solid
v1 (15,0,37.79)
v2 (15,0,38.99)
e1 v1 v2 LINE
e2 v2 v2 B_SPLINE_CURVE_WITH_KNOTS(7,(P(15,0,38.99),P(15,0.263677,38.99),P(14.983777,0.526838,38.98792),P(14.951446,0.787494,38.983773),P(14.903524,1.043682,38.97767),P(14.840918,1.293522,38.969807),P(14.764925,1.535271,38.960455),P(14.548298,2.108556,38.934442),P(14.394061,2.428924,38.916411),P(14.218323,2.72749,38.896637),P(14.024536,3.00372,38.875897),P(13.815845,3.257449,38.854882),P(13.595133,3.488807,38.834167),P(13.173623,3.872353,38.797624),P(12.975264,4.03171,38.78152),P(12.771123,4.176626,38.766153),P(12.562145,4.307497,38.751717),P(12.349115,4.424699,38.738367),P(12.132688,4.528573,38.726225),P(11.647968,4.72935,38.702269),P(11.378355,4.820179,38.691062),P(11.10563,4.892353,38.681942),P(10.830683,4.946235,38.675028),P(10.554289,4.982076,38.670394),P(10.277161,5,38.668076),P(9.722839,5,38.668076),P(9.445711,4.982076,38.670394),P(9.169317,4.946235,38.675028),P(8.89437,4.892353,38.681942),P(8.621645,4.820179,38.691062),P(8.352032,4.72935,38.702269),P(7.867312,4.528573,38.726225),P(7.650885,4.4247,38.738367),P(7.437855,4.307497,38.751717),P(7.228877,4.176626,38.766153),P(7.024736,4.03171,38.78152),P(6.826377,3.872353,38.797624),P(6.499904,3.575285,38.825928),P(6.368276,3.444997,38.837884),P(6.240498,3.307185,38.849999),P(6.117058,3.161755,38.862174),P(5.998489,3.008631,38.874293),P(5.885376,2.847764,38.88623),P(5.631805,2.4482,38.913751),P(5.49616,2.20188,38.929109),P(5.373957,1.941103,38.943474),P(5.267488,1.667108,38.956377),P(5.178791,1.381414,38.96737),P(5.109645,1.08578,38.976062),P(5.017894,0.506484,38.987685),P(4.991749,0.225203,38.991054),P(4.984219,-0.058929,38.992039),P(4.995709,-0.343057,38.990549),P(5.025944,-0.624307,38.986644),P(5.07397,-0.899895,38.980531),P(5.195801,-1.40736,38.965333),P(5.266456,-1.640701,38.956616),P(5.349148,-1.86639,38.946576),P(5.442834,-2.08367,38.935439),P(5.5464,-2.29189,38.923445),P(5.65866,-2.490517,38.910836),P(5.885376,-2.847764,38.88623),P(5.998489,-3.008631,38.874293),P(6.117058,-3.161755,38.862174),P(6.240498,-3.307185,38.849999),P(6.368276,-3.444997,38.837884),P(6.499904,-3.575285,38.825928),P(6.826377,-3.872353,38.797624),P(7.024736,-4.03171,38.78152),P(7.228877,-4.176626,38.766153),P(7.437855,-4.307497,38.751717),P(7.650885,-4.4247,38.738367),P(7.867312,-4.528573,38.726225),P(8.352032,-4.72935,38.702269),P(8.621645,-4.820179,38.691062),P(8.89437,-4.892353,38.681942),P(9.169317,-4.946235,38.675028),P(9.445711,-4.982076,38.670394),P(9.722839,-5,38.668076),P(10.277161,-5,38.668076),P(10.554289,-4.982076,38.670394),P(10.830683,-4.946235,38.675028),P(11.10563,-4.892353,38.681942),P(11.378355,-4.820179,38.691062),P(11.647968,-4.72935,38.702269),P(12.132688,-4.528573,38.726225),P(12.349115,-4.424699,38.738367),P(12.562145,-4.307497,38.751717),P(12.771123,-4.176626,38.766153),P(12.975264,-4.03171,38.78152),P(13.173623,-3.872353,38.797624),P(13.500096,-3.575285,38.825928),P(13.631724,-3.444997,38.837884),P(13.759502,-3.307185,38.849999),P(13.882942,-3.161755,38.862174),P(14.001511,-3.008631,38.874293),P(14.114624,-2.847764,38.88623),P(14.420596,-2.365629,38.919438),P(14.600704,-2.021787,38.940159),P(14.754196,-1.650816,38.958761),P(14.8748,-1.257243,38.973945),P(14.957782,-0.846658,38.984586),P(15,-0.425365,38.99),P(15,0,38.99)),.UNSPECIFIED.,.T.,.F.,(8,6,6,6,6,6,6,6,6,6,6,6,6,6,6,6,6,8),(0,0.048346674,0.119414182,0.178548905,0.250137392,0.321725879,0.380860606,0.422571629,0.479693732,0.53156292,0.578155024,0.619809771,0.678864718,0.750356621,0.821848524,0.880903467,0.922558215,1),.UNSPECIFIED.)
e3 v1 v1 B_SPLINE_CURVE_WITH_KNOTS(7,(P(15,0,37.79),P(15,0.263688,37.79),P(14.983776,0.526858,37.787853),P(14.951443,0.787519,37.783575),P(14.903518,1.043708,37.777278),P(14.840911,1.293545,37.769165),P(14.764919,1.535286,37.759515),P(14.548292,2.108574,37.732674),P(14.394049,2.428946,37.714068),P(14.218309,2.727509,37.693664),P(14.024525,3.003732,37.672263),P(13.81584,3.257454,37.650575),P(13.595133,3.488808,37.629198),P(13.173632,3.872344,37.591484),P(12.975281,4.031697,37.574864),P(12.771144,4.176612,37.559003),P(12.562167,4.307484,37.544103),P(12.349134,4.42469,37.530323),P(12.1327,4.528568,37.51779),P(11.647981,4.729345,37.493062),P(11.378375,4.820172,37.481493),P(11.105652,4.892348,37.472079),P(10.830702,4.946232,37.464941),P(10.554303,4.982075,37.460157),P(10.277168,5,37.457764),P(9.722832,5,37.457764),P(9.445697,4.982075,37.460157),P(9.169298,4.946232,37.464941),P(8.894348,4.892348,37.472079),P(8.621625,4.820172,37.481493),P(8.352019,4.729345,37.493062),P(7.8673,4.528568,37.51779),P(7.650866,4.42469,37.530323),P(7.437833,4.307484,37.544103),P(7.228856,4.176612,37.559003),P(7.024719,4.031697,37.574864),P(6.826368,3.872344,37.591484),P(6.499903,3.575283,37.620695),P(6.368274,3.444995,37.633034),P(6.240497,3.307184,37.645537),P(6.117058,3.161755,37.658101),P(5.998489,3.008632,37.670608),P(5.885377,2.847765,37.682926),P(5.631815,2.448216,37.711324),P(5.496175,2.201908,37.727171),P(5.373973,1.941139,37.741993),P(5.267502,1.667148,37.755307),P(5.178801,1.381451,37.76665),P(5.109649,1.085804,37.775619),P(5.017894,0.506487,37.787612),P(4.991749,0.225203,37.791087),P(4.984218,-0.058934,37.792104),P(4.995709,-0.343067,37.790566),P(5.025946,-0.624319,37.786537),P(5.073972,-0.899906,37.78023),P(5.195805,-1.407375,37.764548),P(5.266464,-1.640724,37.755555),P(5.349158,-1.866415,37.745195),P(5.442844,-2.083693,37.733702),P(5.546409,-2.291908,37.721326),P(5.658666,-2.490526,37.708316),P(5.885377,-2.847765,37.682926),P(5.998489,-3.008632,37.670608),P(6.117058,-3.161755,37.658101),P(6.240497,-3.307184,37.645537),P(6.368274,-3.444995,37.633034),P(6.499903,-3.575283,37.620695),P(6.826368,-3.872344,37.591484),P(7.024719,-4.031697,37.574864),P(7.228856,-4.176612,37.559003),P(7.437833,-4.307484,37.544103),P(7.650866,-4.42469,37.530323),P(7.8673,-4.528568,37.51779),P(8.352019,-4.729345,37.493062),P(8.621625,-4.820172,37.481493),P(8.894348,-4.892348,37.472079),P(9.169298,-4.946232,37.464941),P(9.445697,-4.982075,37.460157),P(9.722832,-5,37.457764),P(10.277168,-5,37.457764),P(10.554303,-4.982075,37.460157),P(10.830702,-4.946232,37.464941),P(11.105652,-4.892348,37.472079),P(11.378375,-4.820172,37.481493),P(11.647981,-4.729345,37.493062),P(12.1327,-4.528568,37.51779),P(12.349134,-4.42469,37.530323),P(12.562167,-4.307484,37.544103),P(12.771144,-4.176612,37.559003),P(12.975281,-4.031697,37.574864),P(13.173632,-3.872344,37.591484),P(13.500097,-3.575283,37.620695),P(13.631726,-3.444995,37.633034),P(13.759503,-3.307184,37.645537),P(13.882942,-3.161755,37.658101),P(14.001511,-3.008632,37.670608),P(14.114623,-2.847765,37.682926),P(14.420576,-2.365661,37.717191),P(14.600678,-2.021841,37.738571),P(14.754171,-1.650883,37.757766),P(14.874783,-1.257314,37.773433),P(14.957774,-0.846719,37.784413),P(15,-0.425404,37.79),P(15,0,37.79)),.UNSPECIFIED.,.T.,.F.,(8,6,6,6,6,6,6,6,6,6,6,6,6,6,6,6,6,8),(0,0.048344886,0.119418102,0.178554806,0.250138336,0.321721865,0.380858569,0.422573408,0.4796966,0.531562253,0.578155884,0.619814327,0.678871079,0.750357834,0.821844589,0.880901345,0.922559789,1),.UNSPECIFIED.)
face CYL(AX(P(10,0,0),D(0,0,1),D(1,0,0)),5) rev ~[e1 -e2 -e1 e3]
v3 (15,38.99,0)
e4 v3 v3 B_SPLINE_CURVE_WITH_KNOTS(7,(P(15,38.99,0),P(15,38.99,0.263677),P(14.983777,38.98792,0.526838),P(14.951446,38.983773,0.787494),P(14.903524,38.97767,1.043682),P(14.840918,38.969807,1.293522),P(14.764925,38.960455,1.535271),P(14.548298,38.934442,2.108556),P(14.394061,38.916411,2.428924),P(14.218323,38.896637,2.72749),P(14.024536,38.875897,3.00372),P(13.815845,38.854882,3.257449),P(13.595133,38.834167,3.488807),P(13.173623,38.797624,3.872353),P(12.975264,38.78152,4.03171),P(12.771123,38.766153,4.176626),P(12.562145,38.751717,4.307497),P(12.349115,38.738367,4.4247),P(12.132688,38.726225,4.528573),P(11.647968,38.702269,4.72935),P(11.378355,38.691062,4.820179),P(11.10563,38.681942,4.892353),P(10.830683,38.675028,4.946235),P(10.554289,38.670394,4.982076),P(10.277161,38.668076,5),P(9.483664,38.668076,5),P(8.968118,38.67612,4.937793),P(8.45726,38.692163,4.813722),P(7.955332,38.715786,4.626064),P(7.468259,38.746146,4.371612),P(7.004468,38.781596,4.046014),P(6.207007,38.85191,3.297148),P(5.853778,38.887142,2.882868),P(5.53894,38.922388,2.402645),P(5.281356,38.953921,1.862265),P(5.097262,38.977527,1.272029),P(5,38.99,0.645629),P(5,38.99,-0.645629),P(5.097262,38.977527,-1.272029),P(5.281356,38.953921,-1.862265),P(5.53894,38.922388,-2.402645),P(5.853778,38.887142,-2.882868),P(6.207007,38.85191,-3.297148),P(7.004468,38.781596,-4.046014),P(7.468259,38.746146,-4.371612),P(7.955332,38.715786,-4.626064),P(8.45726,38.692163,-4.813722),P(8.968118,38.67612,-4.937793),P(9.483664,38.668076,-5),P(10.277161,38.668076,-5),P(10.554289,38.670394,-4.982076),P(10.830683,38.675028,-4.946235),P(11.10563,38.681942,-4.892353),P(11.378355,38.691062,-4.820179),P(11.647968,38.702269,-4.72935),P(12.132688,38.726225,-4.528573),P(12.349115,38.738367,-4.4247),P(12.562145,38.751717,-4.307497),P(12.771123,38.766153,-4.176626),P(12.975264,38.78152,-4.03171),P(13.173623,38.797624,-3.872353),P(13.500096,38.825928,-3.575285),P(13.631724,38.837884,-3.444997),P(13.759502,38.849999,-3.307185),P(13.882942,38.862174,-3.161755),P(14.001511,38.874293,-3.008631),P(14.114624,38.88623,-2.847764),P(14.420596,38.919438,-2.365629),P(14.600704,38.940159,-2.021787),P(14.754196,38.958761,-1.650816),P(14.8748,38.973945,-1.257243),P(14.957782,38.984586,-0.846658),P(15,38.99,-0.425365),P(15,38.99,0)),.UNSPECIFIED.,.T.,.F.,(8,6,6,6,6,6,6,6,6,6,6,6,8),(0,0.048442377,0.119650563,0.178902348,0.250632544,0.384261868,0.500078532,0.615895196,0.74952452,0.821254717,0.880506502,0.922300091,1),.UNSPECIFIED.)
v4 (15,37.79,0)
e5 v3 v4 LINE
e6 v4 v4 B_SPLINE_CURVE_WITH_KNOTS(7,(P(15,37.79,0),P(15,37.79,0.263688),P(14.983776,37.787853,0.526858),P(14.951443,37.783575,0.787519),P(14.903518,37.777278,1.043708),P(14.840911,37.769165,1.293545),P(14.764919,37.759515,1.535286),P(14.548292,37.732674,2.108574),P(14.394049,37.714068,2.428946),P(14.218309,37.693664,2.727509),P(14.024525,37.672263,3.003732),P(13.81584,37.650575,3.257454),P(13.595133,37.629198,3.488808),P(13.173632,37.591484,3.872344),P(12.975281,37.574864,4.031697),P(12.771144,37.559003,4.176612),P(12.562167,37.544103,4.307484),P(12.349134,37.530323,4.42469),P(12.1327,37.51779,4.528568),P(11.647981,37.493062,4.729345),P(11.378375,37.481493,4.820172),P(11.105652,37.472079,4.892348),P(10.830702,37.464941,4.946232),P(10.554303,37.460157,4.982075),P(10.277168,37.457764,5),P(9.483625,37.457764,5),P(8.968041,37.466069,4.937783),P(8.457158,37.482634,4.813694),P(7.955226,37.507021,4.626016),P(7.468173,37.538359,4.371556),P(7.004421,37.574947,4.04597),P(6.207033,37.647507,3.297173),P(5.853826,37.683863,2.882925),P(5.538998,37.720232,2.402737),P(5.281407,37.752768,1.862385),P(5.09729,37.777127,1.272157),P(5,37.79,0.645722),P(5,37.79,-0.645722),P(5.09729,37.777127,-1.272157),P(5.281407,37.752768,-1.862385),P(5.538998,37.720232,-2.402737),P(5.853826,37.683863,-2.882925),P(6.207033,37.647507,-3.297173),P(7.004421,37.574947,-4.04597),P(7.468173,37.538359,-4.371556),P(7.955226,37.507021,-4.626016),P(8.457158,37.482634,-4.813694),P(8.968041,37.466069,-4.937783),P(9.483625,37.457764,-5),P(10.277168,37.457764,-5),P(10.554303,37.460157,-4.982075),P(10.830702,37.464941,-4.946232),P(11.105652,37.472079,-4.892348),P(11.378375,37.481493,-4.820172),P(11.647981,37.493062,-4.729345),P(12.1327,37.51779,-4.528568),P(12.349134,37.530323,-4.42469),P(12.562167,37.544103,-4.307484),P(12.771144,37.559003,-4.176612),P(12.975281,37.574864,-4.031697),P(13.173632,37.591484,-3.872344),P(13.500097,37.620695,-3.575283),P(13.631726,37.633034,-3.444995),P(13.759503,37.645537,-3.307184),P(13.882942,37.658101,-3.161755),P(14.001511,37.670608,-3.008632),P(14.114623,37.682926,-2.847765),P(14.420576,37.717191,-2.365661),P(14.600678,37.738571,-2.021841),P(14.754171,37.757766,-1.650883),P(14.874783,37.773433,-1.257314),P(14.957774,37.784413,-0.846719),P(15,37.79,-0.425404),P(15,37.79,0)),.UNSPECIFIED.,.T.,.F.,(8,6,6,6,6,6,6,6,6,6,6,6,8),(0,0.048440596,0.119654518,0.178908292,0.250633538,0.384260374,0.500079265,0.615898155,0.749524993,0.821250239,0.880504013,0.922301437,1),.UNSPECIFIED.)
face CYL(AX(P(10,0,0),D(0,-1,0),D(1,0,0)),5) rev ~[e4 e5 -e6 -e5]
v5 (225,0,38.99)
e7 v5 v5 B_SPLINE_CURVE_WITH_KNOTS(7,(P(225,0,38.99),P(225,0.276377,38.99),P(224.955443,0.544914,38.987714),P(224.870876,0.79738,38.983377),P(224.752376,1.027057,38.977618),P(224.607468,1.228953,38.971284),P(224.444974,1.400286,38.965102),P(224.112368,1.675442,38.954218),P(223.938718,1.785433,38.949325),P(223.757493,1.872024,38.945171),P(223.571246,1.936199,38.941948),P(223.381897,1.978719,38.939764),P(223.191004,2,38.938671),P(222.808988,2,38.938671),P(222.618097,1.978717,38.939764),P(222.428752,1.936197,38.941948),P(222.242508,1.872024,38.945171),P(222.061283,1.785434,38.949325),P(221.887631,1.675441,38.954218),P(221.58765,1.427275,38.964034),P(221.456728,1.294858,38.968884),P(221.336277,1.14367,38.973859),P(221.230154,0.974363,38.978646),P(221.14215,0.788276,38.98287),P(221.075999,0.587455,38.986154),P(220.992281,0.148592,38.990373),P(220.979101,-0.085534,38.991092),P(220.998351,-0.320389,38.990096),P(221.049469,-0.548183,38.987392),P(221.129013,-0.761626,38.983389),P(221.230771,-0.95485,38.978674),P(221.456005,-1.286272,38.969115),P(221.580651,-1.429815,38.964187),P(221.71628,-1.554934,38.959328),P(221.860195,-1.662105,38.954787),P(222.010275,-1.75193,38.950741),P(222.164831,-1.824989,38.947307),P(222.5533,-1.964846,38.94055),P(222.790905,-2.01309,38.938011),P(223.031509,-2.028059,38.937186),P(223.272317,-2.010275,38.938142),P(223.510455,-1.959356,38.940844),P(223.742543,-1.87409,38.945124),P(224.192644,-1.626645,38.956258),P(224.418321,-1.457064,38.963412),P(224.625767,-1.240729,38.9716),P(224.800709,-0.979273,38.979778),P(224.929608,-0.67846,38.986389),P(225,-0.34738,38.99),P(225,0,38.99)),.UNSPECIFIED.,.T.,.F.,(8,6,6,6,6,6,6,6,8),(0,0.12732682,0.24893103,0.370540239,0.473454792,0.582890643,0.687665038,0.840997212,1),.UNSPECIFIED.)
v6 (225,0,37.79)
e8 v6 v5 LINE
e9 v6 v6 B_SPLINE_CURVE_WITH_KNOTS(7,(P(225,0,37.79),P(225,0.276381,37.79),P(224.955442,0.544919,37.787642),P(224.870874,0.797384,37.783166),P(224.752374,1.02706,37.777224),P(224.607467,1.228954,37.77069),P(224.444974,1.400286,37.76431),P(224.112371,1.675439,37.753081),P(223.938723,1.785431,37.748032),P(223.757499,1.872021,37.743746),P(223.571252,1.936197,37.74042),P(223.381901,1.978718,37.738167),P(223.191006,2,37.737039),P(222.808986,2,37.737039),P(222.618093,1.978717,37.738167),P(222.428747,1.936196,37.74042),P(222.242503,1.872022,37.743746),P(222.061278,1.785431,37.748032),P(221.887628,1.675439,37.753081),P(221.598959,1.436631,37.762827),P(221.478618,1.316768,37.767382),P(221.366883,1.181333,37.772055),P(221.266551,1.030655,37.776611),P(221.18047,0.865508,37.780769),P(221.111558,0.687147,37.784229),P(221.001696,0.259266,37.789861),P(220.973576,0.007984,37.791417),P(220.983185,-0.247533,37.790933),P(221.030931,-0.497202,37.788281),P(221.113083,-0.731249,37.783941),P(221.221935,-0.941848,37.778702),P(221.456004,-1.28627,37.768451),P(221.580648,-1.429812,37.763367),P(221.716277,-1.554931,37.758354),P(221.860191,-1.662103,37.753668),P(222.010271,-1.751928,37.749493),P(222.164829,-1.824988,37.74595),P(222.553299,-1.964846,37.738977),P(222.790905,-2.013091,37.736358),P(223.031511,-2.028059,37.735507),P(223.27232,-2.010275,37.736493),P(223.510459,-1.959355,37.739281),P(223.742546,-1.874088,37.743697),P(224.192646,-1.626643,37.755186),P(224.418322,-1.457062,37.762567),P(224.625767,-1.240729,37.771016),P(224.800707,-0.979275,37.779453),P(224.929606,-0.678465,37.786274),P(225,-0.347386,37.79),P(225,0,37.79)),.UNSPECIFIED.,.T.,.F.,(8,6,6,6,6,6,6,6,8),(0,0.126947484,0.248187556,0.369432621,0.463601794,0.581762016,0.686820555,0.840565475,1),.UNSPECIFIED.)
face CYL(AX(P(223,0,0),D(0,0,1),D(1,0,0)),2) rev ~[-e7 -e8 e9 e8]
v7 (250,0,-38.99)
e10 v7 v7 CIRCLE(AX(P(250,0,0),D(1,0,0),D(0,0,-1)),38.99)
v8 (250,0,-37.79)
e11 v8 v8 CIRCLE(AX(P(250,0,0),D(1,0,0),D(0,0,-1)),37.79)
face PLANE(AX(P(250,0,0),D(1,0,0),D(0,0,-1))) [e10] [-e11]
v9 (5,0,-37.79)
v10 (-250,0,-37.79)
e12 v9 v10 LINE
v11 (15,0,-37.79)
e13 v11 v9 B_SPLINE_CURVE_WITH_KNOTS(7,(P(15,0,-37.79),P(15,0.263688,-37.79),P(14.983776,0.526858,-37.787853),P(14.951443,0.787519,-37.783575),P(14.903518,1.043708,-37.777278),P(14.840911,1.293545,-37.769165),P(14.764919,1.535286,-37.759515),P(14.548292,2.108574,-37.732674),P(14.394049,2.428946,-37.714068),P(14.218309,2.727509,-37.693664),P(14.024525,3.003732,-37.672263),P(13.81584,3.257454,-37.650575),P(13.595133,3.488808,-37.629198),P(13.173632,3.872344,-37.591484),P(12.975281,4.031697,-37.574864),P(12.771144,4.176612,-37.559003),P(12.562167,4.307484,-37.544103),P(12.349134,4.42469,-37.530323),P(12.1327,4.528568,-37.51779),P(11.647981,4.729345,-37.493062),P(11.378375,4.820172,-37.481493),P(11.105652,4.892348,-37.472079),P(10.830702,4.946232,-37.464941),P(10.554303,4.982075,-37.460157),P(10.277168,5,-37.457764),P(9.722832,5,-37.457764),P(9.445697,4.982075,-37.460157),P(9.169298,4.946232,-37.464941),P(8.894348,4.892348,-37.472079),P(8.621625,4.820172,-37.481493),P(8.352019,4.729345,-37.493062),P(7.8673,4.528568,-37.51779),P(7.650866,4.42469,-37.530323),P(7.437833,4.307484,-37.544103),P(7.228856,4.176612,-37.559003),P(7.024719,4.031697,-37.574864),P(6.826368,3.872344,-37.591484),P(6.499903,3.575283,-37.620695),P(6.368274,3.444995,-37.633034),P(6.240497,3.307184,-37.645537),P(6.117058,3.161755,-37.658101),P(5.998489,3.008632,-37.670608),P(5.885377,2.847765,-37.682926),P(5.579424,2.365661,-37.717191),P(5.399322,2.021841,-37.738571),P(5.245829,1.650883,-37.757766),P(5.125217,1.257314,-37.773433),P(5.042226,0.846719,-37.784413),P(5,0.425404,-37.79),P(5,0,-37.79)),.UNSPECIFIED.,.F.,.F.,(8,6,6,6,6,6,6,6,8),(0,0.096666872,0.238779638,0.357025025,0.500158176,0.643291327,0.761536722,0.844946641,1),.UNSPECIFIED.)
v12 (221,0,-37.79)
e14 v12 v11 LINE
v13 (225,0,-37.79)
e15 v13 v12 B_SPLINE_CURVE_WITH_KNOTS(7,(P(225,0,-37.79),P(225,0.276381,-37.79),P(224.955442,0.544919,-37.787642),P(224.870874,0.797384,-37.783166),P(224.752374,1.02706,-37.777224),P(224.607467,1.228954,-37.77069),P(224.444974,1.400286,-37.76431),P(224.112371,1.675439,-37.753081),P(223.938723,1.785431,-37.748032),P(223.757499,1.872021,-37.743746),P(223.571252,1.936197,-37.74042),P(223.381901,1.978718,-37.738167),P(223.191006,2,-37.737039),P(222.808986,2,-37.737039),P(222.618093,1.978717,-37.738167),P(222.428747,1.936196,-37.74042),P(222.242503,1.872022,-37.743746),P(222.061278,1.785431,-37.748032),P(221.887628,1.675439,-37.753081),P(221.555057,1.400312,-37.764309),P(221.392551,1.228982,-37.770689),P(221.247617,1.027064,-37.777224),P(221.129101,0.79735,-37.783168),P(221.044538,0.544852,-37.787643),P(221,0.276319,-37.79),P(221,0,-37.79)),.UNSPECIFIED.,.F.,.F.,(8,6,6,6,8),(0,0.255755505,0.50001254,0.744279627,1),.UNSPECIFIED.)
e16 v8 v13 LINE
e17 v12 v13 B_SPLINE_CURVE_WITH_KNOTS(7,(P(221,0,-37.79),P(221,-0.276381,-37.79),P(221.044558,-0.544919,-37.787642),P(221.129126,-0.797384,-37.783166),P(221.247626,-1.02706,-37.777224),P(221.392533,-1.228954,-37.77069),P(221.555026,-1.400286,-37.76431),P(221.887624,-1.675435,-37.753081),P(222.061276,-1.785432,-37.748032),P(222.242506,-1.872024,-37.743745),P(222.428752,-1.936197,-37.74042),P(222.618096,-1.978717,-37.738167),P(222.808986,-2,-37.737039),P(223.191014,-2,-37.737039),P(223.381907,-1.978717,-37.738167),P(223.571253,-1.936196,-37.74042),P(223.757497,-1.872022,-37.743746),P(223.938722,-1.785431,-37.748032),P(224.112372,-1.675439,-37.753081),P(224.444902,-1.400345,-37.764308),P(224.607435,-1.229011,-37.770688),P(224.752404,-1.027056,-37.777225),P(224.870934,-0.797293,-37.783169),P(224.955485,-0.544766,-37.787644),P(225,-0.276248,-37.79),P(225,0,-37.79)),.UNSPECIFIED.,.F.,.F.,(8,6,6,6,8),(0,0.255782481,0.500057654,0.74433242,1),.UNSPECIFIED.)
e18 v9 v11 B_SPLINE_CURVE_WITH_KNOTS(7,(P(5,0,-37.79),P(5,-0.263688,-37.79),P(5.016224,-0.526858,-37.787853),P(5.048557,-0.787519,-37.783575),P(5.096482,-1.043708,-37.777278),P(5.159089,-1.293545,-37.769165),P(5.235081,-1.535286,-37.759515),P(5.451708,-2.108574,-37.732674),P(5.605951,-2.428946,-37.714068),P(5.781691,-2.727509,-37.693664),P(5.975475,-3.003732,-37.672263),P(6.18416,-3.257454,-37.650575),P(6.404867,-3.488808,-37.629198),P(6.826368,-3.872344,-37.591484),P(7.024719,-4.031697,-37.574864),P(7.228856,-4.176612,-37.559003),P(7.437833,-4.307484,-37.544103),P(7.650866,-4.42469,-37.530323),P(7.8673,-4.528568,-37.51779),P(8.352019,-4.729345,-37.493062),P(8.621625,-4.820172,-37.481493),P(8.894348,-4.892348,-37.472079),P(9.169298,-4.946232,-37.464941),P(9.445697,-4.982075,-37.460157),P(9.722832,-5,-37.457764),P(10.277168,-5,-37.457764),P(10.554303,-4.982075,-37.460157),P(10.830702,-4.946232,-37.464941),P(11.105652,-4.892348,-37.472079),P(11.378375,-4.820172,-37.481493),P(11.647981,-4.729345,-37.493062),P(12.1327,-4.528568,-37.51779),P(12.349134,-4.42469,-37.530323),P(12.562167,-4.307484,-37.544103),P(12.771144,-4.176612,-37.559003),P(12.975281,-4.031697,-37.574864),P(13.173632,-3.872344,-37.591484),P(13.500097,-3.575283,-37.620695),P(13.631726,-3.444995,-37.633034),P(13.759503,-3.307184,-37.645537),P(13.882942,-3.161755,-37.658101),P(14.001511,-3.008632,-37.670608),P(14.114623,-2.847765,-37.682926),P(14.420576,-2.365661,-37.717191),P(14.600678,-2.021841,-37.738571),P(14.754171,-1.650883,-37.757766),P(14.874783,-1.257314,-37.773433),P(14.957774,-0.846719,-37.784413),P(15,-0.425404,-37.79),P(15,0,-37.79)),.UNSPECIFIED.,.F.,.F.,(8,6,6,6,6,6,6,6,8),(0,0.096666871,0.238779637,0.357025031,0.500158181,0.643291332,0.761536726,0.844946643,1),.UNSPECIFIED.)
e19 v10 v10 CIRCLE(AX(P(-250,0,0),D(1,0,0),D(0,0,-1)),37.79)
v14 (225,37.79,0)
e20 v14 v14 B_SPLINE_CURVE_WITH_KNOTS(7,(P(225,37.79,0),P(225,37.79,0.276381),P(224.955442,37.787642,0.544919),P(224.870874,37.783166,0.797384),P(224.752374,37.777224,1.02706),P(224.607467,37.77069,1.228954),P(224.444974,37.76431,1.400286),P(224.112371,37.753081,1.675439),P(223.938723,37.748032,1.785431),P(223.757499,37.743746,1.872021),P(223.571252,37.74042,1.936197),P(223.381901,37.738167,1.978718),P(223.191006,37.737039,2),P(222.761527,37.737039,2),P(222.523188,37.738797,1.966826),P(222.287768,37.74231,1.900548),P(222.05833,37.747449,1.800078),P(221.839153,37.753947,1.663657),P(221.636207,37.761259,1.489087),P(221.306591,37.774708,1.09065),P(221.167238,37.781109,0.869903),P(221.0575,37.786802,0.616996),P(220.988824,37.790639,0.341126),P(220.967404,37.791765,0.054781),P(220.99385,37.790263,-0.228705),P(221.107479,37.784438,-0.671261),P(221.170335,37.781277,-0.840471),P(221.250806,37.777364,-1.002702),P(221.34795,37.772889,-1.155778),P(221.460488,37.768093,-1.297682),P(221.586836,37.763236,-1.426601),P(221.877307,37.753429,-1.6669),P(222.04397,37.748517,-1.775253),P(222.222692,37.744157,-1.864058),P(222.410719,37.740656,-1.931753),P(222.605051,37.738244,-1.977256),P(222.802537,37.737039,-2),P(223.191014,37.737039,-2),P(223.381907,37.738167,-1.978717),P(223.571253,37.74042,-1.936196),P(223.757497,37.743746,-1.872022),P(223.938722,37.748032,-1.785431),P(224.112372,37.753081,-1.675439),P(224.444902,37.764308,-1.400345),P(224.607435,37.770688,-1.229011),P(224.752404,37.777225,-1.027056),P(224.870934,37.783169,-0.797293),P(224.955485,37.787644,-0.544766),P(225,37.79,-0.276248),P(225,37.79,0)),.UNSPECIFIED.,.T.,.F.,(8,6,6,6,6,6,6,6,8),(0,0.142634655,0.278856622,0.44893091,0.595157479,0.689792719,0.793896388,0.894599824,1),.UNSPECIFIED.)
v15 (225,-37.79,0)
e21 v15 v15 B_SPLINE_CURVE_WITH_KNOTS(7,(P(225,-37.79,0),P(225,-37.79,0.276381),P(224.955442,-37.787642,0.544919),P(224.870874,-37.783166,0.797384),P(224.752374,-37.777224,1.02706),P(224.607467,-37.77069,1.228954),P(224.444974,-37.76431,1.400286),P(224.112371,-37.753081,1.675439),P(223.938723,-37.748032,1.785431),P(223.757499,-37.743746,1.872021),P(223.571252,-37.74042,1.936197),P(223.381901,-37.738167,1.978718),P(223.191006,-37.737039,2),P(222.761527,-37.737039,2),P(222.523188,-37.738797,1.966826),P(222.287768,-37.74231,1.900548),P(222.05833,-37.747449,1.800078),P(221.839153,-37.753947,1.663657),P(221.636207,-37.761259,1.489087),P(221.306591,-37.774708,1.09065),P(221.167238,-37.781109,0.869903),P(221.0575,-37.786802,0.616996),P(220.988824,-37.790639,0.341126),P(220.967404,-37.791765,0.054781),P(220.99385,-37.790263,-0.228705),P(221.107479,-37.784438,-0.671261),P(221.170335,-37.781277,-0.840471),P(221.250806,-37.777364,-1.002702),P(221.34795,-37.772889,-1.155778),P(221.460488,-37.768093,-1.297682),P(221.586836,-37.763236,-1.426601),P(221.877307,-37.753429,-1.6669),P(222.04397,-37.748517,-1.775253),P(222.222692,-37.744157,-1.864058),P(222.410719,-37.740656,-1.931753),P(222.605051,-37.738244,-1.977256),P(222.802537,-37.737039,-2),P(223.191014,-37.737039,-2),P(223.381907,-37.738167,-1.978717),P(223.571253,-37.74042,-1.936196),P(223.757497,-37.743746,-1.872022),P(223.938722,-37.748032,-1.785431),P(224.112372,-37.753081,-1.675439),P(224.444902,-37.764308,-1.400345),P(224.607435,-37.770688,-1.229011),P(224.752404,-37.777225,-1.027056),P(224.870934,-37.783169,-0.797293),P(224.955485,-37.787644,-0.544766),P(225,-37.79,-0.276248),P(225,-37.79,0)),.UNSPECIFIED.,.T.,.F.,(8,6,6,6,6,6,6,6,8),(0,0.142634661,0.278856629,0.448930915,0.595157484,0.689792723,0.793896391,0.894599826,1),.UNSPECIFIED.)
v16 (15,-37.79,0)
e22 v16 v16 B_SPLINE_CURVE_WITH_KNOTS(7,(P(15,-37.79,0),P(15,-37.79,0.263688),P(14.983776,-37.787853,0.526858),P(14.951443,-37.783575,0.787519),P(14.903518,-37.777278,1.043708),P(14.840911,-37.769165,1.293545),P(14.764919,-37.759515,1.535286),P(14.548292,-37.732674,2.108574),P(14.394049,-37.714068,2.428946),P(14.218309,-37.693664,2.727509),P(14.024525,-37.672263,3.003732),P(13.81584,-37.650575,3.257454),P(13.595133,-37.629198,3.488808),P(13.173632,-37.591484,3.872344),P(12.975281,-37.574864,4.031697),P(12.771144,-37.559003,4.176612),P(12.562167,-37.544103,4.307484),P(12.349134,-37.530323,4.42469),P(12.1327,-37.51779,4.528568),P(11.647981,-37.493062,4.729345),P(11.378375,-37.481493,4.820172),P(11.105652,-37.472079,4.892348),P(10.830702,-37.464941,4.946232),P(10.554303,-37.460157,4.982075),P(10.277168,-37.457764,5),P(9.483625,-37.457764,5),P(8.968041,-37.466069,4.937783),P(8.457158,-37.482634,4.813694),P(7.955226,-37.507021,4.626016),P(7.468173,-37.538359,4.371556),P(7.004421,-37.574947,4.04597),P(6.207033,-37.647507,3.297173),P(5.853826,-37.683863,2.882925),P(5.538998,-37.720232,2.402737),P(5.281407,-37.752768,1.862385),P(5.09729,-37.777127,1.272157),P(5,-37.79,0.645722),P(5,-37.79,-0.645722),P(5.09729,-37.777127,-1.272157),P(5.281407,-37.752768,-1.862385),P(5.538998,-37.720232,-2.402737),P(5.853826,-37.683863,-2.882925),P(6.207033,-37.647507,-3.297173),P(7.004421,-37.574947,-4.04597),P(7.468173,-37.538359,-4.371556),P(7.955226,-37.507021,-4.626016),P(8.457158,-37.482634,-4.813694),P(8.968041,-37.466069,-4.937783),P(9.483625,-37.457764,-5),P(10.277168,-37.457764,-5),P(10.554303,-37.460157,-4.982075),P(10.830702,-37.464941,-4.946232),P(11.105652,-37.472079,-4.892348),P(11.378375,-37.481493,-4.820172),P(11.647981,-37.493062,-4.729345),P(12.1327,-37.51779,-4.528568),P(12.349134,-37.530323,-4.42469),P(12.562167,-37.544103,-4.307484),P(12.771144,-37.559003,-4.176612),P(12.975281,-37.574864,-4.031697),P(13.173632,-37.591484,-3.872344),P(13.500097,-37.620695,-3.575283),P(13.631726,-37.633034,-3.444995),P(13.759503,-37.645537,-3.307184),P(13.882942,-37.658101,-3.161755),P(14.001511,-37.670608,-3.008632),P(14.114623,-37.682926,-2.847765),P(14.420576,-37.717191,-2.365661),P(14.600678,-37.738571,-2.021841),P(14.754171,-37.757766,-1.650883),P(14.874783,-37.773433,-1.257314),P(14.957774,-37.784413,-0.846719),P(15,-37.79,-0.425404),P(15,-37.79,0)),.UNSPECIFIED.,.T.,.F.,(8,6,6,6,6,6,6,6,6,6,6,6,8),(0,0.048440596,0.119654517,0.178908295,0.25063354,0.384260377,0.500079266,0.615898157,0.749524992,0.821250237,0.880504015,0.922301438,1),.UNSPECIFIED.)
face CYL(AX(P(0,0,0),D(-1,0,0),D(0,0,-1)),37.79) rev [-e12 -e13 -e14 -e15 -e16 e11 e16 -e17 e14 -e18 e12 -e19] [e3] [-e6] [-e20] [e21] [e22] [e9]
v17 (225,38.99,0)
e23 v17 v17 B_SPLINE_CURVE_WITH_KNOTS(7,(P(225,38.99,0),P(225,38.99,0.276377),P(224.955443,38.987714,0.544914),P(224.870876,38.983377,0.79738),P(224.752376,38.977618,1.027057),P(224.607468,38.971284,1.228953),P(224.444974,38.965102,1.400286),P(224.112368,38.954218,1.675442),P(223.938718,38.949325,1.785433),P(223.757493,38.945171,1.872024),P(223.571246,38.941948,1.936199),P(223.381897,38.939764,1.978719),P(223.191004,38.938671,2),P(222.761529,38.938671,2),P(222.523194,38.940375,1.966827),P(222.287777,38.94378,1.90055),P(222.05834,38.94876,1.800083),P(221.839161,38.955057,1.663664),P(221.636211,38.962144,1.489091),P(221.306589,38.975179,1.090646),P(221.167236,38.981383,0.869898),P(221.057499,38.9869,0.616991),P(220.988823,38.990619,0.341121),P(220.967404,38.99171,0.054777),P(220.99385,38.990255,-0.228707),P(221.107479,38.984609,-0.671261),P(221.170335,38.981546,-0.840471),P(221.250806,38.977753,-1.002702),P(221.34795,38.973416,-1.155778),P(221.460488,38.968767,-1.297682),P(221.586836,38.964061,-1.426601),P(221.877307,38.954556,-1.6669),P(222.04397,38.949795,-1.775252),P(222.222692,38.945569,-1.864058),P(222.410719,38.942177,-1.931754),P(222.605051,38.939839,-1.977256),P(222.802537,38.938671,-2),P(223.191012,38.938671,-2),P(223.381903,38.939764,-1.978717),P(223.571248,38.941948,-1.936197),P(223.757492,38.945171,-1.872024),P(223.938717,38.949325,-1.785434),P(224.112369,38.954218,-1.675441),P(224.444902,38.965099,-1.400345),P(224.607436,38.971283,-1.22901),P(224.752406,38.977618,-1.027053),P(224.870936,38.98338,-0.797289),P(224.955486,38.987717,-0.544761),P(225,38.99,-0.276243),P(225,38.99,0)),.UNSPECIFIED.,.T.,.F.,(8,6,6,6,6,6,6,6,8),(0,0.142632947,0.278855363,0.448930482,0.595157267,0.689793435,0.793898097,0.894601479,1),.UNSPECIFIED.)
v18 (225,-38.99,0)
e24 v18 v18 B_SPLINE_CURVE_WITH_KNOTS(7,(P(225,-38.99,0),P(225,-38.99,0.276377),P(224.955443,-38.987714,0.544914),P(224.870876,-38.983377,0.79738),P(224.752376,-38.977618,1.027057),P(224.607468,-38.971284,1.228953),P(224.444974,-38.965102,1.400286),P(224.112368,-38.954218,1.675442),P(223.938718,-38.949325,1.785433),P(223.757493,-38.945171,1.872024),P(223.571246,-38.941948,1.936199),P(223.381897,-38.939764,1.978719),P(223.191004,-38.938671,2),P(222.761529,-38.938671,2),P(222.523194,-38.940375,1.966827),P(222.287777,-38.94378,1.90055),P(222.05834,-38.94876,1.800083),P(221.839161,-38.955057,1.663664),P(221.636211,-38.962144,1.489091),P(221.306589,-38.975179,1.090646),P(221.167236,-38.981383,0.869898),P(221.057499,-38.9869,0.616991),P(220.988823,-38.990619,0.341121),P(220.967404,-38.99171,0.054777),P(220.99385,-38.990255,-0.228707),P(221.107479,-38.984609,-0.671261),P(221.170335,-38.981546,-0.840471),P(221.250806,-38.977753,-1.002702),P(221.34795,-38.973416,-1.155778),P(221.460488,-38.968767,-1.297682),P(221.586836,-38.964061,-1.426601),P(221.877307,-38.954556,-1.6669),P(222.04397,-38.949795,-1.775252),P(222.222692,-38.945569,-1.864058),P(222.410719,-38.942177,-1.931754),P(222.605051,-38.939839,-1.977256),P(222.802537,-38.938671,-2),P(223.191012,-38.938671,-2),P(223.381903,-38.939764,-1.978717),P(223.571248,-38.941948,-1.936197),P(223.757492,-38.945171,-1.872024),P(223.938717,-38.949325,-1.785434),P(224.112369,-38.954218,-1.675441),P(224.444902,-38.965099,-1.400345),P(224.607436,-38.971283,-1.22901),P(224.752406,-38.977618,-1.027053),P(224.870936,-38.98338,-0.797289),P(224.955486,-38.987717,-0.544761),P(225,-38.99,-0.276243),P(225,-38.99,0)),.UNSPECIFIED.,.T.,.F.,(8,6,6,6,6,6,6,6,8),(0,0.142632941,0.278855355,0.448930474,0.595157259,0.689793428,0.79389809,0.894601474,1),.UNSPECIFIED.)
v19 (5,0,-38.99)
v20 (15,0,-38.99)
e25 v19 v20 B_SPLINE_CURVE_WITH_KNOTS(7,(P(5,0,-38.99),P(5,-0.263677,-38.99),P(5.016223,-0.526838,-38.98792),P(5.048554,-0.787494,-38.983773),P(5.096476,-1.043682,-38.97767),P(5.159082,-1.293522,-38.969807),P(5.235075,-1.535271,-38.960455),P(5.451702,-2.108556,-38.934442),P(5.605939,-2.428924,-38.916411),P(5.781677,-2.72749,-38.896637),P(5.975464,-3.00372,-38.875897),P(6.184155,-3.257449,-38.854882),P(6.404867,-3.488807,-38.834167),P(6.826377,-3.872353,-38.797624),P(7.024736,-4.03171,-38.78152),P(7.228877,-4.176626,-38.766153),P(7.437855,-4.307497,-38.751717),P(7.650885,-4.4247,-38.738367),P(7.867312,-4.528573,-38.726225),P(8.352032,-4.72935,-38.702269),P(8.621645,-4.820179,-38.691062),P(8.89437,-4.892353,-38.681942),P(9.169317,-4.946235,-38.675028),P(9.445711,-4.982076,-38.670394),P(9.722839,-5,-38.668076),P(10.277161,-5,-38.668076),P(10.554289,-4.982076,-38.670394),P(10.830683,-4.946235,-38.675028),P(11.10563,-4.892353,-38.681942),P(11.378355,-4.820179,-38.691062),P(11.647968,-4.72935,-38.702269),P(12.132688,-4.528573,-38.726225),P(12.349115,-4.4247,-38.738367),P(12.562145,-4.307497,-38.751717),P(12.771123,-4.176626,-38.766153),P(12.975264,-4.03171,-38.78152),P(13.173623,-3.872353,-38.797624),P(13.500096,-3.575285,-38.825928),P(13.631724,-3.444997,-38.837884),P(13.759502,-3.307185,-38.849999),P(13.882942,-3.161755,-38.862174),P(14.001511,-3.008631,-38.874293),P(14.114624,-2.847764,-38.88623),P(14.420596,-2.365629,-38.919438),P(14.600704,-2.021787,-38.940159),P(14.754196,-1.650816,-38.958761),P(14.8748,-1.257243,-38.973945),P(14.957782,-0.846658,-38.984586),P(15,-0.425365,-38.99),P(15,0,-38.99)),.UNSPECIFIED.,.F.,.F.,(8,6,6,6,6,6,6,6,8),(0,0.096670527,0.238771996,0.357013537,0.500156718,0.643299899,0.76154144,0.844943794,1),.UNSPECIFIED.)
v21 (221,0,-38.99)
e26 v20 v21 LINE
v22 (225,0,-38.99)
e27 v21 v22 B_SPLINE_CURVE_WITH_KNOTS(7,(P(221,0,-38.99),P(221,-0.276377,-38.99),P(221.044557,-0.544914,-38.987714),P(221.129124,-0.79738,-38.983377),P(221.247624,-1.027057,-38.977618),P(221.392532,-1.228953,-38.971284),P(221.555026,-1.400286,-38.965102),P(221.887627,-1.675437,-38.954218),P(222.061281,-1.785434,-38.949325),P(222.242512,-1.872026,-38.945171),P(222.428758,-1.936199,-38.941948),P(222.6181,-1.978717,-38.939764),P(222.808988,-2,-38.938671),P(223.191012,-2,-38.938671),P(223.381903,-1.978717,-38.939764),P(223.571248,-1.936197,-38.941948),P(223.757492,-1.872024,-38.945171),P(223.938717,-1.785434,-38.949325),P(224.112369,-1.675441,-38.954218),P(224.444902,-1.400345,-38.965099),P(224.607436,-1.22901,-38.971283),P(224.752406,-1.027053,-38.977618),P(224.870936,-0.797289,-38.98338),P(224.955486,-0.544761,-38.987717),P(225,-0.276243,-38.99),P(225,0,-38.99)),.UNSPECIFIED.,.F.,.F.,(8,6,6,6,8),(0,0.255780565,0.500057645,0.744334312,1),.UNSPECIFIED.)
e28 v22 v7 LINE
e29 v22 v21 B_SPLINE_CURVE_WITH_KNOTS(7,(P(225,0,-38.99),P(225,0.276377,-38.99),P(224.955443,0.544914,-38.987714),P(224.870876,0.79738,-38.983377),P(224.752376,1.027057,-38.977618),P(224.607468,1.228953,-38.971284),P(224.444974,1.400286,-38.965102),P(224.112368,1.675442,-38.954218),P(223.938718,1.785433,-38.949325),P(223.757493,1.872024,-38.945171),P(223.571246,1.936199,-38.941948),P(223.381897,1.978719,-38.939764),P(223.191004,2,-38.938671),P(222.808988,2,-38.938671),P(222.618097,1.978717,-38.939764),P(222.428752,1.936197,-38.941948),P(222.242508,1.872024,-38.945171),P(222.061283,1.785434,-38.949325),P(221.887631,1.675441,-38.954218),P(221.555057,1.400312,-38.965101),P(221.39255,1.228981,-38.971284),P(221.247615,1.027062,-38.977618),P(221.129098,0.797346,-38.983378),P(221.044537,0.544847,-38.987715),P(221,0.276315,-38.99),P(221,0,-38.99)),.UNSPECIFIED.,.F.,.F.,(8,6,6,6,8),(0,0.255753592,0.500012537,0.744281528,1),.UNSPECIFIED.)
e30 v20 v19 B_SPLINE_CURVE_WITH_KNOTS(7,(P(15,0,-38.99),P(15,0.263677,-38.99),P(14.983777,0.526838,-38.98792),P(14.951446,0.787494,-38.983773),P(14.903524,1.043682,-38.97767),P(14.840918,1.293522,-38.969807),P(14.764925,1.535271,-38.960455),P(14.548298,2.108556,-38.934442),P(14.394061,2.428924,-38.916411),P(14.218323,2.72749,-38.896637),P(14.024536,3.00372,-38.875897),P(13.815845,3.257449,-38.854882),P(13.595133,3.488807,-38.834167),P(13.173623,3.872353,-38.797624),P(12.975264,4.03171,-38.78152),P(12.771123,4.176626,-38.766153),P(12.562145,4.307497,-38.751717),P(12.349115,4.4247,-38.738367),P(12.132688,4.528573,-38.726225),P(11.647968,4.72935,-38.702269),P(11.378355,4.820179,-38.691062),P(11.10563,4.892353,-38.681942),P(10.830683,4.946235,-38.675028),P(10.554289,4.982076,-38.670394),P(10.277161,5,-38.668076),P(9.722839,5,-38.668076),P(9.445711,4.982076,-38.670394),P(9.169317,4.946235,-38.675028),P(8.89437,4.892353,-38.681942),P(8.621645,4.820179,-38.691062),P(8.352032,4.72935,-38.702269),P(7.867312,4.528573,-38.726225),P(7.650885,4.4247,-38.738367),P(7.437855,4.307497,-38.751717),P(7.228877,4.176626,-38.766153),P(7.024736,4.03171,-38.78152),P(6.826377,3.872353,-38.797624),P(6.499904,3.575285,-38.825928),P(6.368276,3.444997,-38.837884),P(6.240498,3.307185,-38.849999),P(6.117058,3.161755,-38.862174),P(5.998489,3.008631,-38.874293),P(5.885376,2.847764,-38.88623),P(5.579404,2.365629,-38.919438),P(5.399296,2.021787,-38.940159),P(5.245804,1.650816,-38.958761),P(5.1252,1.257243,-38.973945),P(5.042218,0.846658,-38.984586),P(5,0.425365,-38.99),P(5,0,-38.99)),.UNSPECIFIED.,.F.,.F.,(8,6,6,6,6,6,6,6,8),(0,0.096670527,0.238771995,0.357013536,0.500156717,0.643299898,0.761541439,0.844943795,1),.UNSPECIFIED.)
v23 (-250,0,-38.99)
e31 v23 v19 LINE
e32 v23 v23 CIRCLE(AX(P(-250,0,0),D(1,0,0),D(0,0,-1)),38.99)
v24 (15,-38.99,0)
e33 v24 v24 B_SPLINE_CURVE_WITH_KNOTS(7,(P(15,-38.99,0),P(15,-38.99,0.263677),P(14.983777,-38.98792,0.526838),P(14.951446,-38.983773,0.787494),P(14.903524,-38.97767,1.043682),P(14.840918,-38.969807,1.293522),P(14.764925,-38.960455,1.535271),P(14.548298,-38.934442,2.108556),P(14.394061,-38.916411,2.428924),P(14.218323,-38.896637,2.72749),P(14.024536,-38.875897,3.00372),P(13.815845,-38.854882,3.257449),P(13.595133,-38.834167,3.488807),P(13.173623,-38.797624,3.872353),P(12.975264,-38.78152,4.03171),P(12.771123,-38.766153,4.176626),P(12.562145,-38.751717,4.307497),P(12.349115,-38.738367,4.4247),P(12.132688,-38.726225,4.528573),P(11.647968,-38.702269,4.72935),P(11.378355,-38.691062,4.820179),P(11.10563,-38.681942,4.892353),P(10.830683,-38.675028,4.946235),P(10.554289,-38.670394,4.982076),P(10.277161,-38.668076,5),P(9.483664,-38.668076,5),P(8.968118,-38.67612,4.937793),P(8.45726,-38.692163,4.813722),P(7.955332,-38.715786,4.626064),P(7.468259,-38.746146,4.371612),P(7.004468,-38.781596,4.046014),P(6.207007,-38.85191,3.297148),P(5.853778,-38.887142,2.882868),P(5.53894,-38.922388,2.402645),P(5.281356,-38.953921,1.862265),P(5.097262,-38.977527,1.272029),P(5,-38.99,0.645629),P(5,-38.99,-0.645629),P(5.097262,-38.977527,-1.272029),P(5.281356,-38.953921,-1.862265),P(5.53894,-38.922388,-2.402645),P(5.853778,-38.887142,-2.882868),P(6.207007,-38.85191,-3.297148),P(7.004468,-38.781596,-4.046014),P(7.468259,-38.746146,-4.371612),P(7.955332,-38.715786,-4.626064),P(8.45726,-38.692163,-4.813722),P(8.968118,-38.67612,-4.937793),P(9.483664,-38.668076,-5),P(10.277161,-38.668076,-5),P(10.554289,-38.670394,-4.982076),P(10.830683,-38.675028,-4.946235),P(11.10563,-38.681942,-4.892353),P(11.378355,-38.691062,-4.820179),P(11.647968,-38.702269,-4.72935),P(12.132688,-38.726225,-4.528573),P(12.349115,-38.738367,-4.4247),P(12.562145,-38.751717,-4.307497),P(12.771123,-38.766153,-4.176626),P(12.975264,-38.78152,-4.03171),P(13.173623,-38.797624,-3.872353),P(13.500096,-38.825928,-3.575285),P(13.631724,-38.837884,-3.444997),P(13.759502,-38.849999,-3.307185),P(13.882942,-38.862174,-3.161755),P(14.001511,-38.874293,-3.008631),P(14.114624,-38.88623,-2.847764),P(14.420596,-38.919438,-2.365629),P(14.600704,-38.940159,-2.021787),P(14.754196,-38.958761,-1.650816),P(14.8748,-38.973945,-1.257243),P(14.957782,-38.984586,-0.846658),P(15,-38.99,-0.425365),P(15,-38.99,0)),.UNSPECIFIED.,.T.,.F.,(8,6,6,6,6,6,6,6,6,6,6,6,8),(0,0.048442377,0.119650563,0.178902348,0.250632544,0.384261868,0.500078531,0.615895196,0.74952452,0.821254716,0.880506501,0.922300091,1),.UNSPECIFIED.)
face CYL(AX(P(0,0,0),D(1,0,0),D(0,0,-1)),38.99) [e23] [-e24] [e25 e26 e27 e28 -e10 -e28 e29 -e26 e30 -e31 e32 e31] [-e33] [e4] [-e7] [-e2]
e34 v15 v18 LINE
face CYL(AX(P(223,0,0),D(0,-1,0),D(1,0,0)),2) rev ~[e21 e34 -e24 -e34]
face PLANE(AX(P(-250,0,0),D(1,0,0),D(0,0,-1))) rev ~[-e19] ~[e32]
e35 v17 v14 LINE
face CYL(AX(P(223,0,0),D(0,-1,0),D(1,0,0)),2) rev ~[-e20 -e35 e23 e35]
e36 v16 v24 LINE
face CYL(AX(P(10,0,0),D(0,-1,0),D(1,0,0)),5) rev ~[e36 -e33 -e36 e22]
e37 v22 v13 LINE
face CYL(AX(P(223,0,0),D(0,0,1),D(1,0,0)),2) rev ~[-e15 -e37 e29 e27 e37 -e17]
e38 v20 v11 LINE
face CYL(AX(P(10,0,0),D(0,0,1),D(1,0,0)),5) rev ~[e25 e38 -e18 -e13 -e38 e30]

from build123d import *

# Parameters (mm, degrees)
CROQUIS1_R              = 38.99
CROQUIS1_R_2            = 37.79
SALIENTE_EXTRUIR1_DEPTH = 250
CROQUIS3_R              = 5
CORTAR_EXTRUIR1_DEPTH   = 39.99
MATRIZC4_COUNT          = 2
MATRIZC4_ANGLE          = 90
CROQUIS4_R              = 2
CORTAR_EXTRUIR2_DEPTH   = 39.9900001
MATRIZC5_COUNT          = 2
MATRIZC5_ANGLE          = 90


with BuildPart() as part:
    # Croquis1 → Saliente-Extruir1 (new body, symmetric)
    with BuildSketch(Plane(origin=(0, 0, 0), x_dir=(0, 0, -1), z_dir=(1, 0, 0))):
        Circle(CROQUIS1_R)
        Circle(CROQUIS1_R_2, mode=Mode.SUBTRACT)
    extrude(amount=SALIENTE_EXTRUIR1_DEPTH, both=True)

    # Croquis3 → Cortar-Extruir1 (cut, symmetric)
    with BuildSketch(Plane.XY):
        with Locations((10, 0)):
            Circle(CROQUIS3_R)
    cortar_extruir1 = extrude(amount=CORTAR_EXTRUIR1_DEPTH, both=True, mode=Mode.SUBTRACT)

    # MatrizC4: Cortar-Extruir1 ×2 about axis
    matrizc4_axis = Axis((250, 0, 0), (1, 0, 0))
    for i in range(1, MATRIZC4_COUNT):
        add(cortar_extruir1.rotate(matrizc4_axis, i * MATRIZC4_ANGLE / (MATRIZC4_COUNT - 1)), mode=Mode.SUBTRACT)

    # Croquis4 → Cortar-Extruir2 (cut, symmetric)
    with BuildSketch(Plane.XY):
        with Locations((223, 0)):
            Circle(CROQUIS4_R)
    cortar_extruir2 = extrude(amount=CORTAR_EXTRUIR2_DEPTH, both=True, mode=Mode.SUBTRACT)

    # MatrizC5: Cortar-Extruir2 ×2 about axis
    matrizc5_axis = Axis((250, 0, 0), (1, 0, 0))
    for i in range(1, MATRIZC5_COUNT):
        add(cortar_extruir2.rotate(matrizc5_axis, i * MATRIZC5_ANGLE / (MATRIZC5_COUNT - 1)), mode=Mode.SUBTRACT)


solid = part.part
